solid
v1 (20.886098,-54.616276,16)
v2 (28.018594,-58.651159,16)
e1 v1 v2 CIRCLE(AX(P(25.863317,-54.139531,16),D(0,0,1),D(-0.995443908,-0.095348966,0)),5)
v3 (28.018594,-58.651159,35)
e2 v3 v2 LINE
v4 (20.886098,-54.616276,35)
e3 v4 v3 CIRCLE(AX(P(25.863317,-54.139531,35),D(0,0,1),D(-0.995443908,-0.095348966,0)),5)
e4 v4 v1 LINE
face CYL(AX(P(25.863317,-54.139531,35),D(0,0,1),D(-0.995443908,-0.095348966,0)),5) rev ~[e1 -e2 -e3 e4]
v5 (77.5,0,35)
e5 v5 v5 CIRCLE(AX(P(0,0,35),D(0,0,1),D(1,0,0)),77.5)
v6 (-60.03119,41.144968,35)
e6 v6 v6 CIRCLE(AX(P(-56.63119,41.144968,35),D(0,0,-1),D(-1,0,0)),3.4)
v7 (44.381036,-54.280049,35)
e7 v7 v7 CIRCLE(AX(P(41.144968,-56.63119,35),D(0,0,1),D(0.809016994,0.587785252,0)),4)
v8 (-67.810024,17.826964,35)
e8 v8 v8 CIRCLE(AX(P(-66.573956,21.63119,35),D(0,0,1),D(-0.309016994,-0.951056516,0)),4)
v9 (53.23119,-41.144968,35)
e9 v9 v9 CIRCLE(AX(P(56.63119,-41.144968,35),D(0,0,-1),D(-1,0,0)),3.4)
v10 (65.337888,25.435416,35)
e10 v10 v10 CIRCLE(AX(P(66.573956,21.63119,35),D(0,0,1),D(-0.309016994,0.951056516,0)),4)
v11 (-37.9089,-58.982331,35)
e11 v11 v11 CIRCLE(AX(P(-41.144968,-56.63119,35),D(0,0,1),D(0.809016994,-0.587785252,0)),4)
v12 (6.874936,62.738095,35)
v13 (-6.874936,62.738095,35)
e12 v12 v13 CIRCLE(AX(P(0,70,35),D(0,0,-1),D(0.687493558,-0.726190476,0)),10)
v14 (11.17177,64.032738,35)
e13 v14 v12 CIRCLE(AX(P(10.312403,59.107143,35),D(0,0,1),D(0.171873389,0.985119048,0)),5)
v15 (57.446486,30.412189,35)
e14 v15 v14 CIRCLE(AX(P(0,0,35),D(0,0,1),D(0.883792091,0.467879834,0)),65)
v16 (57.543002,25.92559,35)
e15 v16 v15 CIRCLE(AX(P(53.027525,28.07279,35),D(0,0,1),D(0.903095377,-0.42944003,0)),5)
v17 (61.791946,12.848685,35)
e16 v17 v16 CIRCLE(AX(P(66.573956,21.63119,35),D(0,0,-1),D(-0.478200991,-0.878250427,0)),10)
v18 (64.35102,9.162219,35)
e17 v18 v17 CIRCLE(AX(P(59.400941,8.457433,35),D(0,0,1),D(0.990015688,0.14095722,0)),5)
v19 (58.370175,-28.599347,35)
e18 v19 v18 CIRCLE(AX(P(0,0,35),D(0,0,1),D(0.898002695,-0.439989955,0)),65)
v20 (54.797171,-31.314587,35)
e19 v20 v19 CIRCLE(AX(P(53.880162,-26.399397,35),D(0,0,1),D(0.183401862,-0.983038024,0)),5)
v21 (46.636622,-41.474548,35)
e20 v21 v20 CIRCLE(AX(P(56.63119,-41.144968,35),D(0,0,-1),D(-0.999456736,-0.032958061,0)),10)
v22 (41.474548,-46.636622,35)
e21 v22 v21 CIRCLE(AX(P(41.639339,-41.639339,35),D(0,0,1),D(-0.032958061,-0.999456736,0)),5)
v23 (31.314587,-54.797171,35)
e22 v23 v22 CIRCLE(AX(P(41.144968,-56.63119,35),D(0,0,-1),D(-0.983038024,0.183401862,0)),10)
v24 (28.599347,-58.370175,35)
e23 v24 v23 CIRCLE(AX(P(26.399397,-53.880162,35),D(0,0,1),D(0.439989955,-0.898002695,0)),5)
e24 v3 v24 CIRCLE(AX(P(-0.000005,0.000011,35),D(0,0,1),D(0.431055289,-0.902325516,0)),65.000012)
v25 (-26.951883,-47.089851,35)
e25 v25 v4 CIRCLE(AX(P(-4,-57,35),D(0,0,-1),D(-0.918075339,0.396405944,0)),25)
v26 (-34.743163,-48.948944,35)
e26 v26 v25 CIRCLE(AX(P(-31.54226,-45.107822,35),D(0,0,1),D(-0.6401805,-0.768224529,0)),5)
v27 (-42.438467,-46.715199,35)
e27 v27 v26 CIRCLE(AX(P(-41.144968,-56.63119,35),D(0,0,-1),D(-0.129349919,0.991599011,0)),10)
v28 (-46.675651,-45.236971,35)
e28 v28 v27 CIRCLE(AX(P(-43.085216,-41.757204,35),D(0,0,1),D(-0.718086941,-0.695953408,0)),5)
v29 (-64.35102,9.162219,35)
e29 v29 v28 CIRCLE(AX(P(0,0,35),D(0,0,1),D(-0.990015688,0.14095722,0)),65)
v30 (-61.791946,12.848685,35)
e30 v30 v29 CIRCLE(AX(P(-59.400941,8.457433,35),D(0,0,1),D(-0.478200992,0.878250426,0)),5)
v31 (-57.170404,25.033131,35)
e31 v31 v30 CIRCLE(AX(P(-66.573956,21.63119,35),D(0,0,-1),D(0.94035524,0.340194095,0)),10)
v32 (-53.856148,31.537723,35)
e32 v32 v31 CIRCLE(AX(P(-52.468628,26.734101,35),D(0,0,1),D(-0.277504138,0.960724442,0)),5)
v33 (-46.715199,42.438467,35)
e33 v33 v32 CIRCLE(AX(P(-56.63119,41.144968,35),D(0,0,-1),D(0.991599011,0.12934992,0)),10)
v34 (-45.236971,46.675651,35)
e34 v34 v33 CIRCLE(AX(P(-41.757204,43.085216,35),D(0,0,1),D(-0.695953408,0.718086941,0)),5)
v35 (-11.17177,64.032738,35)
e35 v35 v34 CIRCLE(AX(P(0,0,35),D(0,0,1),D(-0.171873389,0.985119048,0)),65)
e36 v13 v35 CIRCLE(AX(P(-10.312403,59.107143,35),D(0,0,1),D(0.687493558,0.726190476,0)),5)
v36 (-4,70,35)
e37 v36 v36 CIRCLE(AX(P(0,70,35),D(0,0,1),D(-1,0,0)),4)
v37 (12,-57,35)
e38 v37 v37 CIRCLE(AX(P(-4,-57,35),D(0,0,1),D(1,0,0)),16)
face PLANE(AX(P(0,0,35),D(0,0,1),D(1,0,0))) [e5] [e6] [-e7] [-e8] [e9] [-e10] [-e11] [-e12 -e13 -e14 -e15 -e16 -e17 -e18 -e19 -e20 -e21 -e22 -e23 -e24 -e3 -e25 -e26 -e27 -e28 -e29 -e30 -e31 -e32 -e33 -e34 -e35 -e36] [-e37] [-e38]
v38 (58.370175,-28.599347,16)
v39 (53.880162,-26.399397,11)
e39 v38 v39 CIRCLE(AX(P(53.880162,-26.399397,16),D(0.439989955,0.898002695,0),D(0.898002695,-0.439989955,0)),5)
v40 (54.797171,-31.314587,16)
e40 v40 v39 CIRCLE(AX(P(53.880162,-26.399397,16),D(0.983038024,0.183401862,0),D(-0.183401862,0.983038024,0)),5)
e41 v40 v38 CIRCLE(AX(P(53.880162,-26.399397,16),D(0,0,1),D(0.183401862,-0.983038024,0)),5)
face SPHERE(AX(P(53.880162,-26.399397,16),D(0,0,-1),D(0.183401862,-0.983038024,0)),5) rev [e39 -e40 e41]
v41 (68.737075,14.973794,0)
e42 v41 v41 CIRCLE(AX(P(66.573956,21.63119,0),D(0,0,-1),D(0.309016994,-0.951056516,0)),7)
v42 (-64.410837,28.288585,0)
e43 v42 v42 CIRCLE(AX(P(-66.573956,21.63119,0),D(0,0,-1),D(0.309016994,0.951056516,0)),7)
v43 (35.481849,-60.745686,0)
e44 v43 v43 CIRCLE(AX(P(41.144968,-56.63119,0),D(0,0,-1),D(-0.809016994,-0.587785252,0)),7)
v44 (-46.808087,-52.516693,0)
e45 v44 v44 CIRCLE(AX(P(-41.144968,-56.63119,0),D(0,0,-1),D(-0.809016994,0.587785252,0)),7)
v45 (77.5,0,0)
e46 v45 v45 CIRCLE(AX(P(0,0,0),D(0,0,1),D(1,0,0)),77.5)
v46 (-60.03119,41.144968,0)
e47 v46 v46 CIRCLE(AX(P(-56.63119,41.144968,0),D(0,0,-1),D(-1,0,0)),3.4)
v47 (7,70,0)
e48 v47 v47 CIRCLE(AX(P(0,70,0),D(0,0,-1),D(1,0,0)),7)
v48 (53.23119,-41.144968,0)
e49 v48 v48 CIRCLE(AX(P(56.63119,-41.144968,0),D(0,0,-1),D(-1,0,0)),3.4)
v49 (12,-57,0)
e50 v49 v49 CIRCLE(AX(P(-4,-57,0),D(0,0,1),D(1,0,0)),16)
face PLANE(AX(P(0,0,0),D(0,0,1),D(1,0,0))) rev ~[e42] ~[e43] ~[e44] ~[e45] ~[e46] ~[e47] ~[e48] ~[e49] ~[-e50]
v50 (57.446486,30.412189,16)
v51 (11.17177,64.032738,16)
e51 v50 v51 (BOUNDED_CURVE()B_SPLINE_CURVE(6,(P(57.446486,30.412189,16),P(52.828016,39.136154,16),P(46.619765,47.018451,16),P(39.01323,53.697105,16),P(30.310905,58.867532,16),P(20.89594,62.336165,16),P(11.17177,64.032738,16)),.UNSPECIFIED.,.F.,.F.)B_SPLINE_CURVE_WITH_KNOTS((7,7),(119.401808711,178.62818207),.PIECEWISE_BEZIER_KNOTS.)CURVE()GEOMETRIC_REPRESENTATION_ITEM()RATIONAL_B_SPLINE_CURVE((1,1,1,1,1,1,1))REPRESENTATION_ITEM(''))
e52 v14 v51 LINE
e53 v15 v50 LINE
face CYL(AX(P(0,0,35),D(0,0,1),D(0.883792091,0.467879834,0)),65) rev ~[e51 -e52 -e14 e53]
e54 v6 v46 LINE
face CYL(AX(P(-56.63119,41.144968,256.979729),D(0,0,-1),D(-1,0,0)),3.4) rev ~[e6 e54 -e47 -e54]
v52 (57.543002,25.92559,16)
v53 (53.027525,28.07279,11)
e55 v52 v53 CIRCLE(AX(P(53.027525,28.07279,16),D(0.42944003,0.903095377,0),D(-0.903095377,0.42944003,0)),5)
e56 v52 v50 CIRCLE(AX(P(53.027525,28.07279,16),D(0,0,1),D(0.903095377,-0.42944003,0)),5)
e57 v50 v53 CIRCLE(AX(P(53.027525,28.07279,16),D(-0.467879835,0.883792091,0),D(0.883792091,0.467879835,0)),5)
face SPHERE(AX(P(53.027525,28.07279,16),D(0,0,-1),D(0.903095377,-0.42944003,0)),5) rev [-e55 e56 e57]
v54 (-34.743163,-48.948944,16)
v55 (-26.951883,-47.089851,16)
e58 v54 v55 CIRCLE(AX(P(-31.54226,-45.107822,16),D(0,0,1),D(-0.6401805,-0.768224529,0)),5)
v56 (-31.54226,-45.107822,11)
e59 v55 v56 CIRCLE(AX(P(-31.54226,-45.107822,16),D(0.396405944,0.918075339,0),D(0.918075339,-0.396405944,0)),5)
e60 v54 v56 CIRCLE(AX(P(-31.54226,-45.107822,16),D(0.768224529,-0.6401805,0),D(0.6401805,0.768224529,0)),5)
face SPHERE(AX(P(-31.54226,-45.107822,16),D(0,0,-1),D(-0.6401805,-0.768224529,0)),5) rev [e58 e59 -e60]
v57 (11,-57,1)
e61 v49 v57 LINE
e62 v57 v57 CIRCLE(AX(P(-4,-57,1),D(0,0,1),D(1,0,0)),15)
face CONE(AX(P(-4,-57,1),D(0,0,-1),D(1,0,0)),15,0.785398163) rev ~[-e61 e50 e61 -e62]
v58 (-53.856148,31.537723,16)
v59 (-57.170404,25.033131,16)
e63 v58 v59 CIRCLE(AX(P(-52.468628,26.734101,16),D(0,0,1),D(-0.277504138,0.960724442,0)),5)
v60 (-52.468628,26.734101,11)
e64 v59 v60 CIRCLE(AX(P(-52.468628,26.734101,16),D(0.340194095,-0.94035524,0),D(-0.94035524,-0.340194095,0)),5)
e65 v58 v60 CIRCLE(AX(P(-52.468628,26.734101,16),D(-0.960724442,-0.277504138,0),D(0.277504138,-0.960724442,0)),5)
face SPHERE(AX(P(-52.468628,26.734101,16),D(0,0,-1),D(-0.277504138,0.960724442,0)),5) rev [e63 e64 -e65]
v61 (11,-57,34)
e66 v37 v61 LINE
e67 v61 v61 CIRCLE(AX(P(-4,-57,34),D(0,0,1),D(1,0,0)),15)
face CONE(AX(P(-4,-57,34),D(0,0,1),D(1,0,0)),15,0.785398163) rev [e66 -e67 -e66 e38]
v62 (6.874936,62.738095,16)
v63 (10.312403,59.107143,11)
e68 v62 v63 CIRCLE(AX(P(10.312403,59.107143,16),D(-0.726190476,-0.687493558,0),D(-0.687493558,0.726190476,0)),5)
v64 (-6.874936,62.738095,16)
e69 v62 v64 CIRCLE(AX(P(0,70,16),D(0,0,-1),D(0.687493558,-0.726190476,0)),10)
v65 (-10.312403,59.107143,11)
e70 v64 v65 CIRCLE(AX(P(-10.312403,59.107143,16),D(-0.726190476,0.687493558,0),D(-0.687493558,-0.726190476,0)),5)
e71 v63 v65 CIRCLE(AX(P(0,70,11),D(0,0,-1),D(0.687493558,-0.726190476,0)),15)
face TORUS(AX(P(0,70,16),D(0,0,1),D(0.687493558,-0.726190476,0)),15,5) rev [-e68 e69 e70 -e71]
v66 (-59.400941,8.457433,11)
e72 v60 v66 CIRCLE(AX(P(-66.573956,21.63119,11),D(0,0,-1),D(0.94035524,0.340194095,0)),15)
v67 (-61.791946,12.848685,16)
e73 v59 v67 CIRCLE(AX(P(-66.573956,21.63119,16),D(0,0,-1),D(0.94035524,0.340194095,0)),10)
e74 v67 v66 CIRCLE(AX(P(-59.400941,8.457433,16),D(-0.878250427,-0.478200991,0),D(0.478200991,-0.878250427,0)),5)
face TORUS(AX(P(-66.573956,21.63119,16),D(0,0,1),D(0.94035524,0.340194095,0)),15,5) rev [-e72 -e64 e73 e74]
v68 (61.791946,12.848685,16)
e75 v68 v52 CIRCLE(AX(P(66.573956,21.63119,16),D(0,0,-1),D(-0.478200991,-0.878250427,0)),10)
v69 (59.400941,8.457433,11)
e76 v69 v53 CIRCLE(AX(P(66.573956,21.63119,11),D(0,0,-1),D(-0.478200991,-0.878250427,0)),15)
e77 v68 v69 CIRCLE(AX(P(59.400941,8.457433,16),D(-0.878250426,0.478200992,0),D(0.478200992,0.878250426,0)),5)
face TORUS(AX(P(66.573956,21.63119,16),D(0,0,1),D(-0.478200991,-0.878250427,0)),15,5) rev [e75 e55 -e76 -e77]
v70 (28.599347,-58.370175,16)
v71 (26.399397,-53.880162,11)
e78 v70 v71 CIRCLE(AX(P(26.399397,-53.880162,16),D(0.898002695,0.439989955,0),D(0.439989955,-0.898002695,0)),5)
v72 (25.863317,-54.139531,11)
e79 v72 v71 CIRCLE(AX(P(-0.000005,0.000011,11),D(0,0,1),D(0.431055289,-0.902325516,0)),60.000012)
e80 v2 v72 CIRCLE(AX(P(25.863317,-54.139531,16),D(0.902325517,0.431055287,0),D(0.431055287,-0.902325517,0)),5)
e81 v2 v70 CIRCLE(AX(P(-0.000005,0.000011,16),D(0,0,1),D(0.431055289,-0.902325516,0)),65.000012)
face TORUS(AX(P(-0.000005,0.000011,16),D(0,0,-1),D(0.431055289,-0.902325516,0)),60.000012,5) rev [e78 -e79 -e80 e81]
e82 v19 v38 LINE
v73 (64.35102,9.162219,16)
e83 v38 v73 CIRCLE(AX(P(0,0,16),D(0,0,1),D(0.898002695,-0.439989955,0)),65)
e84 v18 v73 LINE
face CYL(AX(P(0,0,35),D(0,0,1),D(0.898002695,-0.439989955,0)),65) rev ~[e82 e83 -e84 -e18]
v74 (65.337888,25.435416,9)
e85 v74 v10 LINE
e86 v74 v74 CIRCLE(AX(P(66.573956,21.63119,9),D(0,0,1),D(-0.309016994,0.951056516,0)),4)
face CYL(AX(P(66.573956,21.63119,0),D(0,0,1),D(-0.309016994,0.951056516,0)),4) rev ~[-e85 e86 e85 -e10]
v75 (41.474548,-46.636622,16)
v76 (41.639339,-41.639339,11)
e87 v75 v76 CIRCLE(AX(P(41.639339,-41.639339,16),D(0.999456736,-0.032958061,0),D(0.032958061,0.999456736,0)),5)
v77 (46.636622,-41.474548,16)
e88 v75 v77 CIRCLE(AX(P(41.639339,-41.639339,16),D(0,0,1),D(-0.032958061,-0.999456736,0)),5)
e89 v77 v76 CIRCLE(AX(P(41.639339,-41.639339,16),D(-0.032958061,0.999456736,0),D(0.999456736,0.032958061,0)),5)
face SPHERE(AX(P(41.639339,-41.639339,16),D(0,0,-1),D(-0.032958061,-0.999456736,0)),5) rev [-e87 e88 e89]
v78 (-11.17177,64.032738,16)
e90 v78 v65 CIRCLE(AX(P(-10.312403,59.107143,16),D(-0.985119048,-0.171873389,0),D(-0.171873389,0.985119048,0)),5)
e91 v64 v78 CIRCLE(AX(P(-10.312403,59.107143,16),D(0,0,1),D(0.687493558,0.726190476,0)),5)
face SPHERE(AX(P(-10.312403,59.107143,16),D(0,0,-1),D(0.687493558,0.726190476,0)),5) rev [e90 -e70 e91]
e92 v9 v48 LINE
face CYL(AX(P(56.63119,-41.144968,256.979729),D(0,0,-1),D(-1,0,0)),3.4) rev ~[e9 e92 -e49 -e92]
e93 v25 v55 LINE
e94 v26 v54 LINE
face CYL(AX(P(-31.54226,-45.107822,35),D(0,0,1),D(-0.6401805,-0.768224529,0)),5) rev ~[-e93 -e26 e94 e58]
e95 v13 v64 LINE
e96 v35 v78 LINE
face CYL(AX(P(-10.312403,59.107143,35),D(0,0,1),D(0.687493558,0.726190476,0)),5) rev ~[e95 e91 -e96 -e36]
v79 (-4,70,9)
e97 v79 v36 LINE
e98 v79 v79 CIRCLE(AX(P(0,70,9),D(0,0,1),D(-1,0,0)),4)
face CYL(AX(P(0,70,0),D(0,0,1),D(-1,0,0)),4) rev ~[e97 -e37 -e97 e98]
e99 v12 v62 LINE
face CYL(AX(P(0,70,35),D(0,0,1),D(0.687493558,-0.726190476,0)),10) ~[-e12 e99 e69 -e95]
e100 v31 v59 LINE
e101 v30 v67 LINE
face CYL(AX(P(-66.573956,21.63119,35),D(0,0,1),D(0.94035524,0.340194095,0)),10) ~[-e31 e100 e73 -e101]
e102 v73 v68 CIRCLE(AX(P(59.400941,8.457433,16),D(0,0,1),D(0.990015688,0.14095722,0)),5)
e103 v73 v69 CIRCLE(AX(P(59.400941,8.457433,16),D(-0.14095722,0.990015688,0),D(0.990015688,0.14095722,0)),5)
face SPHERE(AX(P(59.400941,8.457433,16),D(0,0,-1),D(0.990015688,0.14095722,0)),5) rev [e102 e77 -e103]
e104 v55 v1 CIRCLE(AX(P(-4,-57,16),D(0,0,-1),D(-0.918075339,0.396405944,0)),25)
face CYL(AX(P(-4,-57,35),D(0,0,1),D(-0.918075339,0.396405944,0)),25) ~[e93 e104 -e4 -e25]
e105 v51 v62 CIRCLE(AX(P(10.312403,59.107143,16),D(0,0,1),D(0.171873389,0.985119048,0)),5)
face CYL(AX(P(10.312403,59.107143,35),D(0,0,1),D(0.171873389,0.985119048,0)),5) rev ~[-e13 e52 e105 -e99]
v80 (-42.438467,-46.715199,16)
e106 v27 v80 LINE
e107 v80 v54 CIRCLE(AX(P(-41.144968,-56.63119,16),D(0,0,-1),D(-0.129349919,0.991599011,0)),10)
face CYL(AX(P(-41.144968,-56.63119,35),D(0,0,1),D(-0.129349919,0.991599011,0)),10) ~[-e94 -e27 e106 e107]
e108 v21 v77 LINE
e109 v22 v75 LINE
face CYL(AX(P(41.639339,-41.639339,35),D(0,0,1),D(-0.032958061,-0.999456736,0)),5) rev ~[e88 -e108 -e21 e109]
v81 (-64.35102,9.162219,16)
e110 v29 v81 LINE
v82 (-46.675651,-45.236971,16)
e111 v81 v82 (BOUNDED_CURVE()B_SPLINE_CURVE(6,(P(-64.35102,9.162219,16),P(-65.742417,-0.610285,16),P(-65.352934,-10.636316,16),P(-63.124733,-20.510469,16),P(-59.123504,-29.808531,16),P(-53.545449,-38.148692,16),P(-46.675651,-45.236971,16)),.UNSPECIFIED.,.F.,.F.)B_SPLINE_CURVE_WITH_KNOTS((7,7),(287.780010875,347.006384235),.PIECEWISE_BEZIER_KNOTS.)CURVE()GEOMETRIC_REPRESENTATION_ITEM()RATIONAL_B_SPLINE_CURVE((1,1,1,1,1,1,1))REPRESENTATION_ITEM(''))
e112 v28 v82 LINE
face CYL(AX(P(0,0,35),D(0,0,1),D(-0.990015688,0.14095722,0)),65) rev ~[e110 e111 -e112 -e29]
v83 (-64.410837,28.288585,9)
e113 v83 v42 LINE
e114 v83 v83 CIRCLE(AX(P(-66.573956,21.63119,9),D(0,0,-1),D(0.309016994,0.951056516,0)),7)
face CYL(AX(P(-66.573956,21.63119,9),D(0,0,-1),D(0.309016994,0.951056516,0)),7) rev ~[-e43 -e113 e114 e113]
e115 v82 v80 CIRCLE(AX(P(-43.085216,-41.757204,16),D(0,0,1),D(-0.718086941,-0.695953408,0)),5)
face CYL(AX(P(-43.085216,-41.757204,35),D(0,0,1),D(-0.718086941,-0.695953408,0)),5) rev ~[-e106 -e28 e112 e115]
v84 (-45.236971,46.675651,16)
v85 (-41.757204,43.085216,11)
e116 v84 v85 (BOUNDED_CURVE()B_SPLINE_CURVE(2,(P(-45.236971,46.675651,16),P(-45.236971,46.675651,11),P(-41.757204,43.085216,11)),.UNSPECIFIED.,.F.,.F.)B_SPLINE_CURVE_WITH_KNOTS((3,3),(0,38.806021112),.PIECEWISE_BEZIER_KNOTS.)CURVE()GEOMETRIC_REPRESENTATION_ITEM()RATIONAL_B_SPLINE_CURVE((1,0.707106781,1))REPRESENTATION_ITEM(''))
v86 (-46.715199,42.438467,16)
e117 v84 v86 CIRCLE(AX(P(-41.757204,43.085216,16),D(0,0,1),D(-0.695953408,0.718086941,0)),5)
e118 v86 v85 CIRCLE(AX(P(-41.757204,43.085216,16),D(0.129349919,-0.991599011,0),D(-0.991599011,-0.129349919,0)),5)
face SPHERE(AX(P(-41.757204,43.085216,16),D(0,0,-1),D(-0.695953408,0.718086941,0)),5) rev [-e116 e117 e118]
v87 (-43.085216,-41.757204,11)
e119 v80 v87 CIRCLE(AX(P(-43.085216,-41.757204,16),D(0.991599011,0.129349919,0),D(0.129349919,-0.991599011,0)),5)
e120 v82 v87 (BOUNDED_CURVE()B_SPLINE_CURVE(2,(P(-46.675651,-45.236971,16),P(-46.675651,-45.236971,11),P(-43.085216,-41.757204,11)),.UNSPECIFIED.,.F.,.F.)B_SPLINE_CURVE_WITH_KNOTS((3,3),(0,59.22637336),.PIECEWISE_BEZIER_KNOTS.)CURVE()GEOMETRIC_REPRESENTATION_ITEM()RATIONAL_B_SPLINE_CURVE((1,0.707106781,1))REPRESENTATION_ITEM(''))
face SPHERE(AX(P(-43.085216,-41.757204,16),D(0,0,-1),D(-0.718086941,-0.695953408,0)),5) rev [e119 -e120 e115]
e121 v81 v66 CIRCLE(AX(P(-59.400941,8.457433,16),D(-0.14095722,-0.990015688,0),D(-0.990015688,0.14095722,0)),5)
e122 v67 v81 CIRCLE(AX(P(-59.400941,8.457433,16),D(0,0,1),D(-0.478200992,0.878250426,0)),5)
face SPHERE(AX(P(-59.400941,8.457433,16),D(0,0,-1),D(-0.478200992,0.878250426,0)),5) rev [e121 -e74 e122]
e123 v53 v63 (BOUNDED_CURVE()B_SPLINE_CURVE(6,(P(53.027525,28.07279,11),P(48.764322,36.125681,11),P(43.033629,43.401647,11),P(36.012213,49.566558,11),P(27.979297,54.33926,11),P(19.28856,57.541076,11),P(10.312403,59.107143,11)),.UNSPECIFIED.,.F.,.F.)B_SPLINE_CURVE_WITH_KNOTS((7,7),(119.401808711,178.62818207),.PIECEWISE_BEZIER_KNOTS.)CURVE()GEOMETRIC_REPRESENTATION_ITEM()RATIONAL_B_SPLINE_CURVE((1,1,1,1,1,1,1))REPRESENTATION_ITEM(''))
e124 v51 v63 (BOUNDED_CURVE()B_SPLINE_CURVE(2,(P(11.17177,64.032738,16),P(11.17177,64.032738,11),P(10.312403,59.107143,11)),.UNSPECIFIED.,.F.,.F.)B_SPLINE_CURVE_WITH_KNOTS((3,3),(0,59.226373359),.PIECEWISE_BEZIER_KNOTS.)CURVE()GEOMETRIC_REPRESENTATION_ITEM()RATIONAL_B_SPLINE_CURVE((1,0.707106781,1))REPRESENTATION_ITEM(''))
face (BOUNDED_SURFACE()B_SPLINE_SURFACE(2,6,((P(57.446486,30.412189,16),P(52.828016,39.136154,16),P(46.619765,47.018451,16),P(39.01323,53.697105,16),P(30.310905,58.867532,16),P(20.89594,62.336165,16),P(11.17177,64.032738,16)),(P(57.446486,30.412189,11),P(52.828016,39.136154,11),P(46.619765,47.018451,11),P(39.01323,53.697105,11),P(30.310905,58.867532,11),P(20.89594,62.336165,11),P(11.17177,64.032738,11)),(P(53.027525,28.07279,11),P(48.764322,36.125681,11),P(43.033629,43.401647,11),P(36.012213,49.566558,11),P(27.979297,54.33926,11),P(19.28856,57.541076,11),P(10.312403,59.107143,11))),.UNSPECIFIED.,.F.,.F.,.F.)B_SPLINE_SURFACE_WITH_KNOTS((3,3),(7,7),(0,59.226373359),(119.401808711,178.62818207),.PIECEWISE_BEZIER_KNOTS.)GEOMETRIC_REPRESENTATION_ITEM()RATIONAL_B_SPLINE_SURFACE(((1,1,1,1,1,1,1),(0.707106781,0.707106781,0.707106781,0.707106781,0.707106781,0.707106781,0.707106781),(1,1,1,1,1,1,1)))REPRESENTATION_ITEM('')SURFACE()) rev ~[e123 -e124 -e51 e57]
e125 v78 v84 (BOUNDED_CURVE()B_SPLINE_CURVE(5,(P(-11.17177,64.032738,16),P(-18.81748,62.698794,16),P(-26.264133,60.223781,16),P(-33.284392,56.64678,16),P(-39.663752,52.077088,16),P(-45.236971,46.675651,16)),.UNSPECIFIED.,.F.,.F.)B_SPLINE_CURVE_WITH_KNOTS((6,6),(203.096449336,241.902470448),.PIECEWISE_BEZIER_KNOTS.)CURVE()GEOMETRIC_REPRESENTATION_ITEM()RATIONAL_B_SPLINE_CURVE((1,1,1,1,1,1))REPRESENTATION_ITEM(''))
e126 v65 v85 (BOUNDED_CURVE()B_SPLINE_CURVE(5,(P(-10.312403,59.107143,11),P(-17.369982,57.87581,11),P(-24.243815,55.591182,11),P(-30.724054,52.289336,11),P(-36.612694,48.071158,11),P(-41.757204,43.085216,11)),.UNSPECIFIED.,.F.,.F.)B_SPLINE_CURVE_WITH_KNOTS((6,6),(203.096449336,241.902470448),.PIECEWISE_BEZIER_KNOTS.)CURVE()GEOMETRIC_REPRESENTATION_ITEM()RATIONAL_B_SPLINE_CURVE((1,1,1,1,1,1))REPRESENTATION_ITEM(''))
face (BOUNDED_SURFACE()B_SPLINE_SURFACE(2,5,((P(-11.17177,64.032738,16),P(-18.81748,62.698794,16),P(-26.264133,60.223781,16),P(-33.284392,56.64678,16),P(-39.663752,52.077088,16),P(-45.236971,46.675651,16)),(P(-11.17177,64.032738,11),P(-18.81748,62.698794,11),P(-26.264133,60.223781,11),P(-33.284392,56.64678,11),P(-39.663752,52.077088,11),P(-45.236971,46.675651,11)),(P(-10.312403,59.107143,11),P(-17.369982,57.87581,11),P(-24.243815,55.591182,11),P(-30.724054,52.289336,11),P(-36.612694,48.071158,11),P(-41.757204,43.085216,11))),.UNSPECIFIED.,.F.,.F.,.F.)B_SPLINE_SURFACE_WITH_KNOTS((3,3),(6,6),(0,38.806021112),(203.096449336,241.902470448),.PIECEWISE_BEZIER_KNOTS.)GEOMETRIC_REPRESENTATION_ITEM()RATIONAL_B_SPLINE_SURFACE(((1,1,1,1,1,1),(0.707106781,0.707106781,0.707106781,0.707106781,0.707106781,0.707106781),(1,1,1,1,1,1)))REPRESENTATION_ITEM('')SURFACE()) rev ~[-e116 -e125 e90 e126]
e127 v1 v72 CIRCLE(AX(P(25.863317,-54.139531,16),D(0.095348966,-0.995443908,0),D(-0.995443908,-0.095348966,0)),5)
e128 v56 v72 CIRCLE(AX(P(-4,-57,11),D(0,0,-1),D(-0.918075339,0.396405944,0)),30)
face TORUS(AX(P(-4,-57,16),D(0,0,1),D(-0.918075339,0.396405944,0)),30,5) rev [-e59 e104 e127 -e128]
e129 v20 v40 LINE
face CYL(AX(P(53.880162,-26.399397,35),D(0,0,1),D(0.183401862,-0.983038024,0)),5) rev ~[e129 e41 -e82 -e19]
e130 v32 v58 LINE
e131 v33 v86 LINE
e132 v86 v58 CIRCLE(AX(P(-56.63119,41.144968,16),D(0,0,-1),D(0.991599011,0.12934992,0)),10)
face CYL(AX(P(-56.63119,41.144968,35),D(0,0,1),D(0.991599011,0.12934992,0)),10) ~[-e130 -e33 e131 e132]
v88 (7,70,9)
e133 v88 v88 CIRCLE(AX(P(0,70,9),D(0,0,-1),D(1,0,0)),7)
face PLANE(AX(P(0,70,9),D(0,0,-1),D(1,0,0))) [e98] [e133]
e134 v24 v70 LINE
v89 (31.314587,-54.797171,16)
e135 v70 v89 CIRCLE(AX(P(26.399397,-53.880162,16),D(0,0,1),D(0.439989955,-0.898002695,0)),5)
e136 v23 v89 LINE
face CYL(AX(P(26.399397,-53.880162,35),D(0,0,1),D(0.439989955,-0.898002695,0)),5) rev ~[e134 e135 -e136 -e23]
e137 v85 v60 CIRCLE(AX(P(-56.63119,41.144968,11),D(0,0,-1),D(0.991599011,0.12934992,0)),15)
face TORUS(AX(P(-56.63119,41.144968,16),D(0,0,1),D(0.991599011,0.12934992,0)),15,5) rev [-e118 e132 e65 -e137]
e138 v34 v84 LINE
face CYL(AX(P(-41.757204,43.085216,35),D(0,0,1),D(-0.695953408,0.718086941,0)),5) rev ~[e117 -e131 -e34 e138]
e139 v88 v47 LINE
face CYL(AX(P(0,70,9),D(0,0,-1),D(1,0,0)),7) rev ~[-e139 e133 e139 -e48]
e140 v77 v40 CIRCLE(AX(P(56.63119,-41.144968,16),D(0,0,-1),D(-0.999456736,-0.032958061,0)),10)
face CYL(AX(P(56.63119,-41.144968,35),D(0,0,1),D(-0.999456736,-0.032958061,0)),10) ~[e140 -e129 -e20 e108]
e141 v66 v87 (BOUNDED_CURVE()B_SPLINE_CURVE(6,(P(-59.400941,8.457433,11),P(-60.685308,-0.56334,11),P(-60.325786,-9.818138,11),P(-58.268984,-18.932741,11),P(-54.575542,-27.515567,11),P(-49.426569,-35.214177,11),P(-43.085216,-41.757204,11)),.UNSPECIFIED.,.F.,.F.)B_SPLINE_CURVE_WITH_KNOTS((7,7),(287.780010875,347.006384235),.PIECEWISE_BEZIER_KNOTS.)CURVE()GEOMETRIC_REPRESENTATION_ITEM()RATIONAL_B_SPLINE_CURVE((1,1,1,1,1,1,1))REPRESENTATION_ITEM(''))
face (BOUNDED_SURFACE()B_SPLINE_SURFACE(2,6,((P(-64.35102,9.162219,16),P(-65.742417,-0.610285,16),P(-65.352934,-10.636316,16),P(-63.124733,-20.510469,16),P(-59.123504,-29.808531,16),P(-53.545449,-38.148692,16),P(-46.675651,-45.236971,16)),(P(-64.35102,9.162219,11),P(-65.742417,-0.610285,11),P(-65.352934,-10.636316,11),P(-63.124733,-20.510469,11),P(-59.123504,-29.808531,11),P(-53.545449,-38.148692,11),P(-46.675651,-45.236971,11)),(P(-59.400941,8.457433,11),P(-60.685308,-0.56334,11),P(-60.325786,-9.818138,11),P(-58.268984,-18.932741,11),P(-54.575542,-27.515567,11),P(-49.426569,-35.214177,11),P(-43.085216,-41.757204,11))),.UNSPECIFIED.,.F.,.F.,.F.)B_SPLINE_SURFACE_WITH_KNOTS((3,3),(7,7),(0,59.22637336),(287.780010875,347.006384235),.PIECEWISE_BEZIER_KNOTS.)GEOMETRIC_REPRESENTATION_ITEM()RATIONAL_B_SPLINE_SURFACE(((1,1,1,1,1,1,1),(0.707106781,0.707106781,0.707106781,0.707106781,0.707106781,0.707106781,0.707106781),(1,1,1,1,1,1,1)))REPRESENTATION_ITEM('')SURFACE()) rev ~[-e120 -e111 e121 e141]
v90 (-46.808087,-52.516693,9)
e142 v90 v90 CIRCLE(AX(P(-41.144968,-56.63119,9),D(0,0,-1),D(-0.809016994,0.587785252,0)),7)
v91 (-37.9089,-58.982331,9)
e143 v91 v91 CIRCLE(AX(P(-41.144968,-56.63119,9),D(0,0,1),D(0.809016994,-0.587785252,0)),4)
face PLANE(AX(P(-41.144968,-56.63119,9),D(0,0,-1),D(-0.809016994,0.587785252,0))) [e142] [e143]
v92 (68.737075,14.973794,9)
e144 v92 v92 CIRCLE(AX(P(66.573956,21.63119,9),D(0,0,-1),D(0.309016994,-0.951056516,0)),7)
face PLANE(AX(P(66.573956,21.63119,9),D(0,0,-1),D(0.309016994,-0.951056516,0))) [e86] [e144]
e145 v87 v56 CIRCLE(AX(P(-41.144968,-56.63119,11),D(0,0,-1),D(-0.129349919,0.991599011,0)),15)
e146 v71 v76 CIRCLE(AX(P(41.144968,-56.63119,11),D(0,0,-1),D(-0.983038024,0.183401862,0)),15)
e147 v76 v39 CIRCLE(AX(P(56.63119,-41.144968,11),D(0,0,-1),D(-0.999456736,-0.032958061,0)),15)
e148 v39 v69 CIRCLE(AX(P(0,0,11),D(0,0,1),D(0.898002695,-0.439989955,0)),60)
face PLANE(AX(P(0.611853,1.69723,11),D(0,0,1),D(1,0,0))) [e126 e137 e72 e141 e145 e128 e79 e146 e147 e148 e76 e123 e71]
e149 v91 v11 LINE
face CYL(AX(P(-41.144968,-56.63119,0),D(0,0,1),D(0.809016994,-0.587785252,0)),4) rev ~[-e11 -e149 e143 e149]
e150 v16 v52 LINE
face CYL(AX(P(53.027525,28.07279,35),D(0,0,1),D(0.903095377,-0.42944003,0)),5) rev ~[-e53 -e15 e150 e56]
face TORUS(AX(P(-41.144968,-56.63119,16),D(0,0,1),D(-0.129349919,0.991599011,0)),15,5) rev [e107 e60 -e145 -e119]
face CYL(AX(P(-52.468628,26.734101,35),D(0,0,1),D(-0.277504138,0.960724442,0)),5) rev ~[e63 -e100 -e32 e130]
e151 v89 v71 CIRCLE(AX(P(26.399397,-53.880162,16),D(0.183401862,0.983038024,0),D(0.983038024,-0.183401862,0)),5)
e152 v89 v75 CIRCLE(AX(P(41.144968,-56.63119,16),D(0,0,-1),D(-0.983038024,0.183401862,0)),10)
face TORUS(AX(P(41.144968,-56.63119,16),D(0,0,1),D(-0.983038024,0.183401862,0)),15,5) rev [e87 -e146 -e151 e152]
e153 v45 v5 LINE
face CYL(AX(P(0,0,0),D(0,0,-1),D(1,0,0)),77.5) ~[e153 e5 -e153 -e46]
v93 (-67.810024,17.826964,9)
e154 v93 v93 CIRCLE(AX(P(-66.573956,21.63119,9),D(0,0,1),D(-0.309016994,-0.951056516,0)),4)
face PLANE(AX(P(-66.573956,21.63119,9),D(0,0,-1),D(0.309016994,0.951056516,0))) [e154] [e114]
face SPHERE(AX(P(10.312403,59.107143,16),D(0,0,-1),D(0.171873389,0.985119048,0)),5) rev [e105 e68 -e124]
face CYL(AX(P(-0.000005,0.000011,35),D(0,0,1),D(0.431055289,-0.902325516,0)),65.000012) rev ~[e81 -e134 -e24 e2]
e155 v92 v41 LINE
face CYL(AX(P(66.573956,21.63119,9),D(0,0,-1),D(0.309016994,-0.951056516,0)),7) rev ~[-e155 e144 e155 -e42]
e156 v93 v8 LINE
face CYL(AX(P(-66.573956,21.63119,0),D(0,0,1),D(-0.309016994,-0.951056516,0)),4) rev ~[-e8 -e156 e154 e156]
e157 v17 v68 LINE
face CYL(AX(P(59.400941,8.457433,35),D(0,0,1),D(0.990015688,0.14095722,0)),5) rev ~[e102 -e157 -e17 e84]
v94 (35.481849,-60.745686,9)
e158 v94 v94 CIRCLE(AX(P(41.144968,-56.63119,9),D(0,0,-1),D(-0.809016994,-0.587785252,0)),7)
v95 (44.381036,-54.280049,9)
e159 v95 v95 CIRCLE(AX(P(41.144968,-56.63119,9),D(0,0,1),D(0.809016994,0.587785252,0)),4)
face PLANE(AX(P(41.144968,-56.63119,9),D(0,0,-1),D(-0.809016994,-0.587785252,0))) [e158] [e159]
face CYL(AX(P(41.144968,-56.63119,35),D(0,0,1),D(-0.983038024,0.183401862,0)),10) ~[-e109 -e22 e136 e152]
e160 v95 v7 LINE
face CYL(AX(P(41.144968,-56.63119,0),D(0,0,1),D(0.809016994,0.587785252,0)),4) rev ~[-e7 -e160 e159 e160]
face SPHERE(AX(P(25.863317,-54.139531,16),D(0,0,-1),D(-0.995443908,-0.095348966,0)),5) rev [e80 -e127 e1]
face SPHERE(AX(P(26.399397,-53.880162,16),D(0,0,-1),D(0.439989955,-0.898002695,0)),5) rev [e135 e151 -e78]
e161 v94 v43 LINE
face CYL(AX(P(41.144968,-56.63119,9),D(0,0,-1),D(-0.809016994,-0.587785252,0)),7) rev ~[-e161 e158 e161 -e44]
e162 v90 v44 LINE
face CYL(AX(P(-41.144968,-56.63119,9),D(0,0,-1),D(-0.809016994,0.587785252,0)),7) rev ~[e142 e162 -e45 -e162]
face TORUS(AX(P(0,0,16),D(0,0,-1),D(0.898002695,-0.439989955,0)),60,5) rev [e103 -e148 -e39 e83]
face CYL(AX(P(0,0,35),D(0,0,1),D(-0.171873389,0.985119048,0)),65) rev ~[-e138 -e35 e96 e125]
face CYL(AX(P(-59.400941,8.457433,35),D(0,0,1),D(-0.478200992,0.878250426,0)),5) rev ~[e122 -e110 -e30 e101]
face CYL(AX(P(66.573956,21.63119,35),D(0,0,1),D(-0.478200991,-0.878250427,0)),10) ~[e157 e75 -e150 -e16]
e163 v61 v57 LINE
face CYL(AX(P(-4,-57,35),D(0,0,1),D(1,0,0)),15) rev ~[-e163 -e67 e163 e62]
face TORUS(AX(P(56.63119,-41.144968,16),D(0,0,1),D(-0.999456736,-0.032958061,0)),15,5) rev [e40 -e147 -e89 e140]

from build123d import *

# Parameters (mm, degrees)
SKETCH_1_R                = 77.5
EXTRUDE_1_DEPTH           = 35
SKETCH_2_R                = 15
CUT_EXTRUDE_1_DEPTH       = 116.05433499
CHAMFER_1_SIZE            = 1
HOLE_WIZARD_1_D           = 8
HOLE_WIZARD_1_CBORE_D     = 14
HOLE_WIZARD_1_CBORE_DEPTH = 9
PATTERN_CIRCULAR_1_COUNT  = 5
HOLE_WIZARD_M8_1_D        = 6.8
CUT_EXTRUDE_2_DEPTH       = 24
FILLET_1_R                = 5


with BuildPart() as part:
    # 草图1 → 凸台-拉伸1 (new body)
    with BuildSketch(Plane.XY):
        Circle(SKETCH_1_R)
    extrude(amount=EXTRUDE_1_DEPTH)

    # 草图2 → 切除-拉伸1 (cut, through all)
    with BuildSketch(Plane.XY.offset(35)):
        with Locations((-4, -57)):
            Circle(SKETCH_2_R)
    extrude(amount=-CUT_EXTRUDE_1_DEPTH, mode=Mode.SUBTRACT)

    # 倒角1
    chamfer_1_edges = [part.edges().sort_by_distance(p)[0] for p in [
        (-19, -57, 0),
        (-19, -57, 35),
    ]]
    chamfer(chamfer_1_edges, length=CHAMFER_1_SIZE)

    # 孔1 (through all)
    with Locations(Plane(origin=(0, 0, 0), x_dir=(1, 0, 0), z_dir=(0, 0, -1))):
        with Locations((0, -70)):
            hole_wizard_1 = CounterBoreHole(HOLE_WIZARD_1_D / 2, HOLE_WIZARD_1_CBORE_D / 2, HOLE_WIZARD_1_CBORE_DEPTH)

    # 阵列(圆周)1: 孔1 ×5 about axis
    pattern_circular_1_axis = Axis((0, 0, 0), (0, 0, 1))
    for i in range(1, PATTERN_CIRCULAR_1_COUNT):
        add(hole_wizard_1.rotate(pattern_circular_1_axis, i * 360 / PATTERN_CIRCULAR_1_COUNT), mode=Mode.SUBTRACT)

    # M8 螺纹孔1 (through all)
    with Locations(Plane.XY.offset(35)):
        with Locations((-56.631189606, 41.14496766), (56.631189606, -41.14496766)):
            Hole(HOLE_WIZARD_M8_1_D / 2)

    # 草图7 → 切除-拉伸2 (cut)
    with BuildSketch(Plane.XY.offset(35)):
        with BuildLine():
            ThreePointArc((57.446485936, 30.412189227), (38.206041399, 52.586104634), (11.171770317, 64.032738095))
            ThreePointArc((11.171770317, 64.032738095), (8.869948511, 63.894555935), (6.87493558, 62.738095238))
            ThreePointArc((6.87493558, 62.738095238), (0, 60), (-6.87493558, 62.738095238))
            ThreePointArc((-6.87493558, 62.738095238), (-8.869948511, 63.894555935), (-11.171770317, 64.032738095))
            ThreePointArc((-11.171770317, 64.032738095), (-29.509382483, 57.915424072), (-45.236971481, 46.67565116))
            ThreePointArc((-45.236971481, 46.67565116), (-46.478156676, 44.732216765), (-46.715199498, 42.438466857))
            ThreePointArc((-46.715199498, 42.438466857), (-48.266255482, 35.665197857), (-53.856148227, 31.537723241))
            ThreePointArc((-53.856148227, 31.537723241), (-56.923660159, 29.004053529), (-57.170403739, 25.033130556))
            ThreePointArc((-57.170403739, 25.033130556), (-57.22394433, 18.084743619), (-61.791946226, 12.848685341))
            ThreePointArc((-61.791946226, 12.848685341), (-63.508298607, 11.308681301), (-64.351019707, 9.162219309))
            ThreePointArc((-64.351019707, 9.162219309), (-61.818673559, -20.086104634), (-46.67565116, -45.236971481))
            ThreePointArc((-46.67565116, -45.236971481), (-44.732216765, -46.478156676), (-42.438466857, -46.715199498))
            ThreePointArc((-42.438466857, -46.715199498), (-38.357298199, -47.027601789), (-34.743162658, -48.948944315))
            ThreePointArc((-34.743162658, -48.948944315), (-30.381779111, -49.971285841), (-26.951883464, -47.089851391))
            ThreePointArc((-26.951883464, -47.089851391), (-0.114506142, -32.303786981), (20.88609771, -54.616275863))
            ThreePointArc((20.88609771, -54.616275863), (23.401425614, -58.491437463), (28.01859369, -58.651158622))
            ThreePointArc((28.01859369, -58.651158622), (28.309318995, -58.511387422), (28.599347072, -58.37017515))
            ThreePointArc((28.599347072, -58.37017515), (30.380338596, -56.905406523), (31.314587418, -54.797170987))
            ThreePointArc((31.314587418, -54.797170987), (34.882784548, -48.834712026), (41.474548269, -46.636622251))
            ThreePointArc((41.474548269, -46.636622251), (45.174872479, -45.174872479), (46.636622251, -41.474548269))
            ThreePointArc((46.636622251, -41.474548269), (48.834712026, -34.882784548), (54.797170987, -31.314587418))
            ThreePointArc((54.797170987, -31.314587418), (56.905406523, -30.380338596), (58.37017515, -28.599347072))
            ThreePointArc((58.37017515, -28.599347072), (64.199742139, -10.168240228), (64.351019707, 9.162219309))
            ThreePointArc((64.351019707, 9.162219309), (63.508298607, 11.308681301), (61.791946226, 12.848685341))
            ThreePointArc((61.791946226, 12.848685341), (57.063390978, 18.541019662), (57.543002367, 25.925589906))
            ThreePointArc((57.543002367, 25.925589906), (58.026368949, 28.180325963), (57.446485936, 30.412189227))
        make_face()
    extrude(amount=-CUT_EXTRUDE_2_DEPTH, mode=Mode.SUBTRACT)

    # 圆角1
    fillet_1_edges = [part.edges().sort_by_distance(p)[0] for p in [
        (23.401425614, -58.491437463, 11),
        (-0.114506142, -32.303786981, 11),
        (-30.381779111, -49.971285841, 11),
        (-38.357298199, -47.027601789, 11),
        (-44.732216765, -46.478156676, 11),
        (-61.818673559, -20.086104634, 11),
        (-63.508298607, 11.308681301, 11),
        (-57.22394433, 18.084743619, 11),
        (-56.923660159, 29.004053529, 11),
        (-48.266255482, 35.665197857, 11),
        (-46.478156676, 44.732216765, 11),
        (-29.509382483, 57.915424072, 11),
        (-8.869948511, 63.894555935, 11),
        (0, 60, 11),
        (8.869948511, 63.894555935, 11),
        (38.206041399, 52.586104634, 11),
        (58.026368949, 28.180325963, 11),
        (57.063390978, 18.541019662, 11),
        (63.508298607, 11.308681301, 11),
        (64.199742139, -10.168240228, 11),
        (56.905406523, -30.380338596, 11),
        (48.834712026, -34.882784548, 11),
        (45.174872479, -45.174872479, 11),
        (34.882784548, -48.834712026, 11),
        (30.380338596, -56.905406523, 11),
        (28.309318995, -58.511387422, 11),
    ]]
    fillet(fillet_1_edges, radius=FILLET_1_R)


solid = part.part
